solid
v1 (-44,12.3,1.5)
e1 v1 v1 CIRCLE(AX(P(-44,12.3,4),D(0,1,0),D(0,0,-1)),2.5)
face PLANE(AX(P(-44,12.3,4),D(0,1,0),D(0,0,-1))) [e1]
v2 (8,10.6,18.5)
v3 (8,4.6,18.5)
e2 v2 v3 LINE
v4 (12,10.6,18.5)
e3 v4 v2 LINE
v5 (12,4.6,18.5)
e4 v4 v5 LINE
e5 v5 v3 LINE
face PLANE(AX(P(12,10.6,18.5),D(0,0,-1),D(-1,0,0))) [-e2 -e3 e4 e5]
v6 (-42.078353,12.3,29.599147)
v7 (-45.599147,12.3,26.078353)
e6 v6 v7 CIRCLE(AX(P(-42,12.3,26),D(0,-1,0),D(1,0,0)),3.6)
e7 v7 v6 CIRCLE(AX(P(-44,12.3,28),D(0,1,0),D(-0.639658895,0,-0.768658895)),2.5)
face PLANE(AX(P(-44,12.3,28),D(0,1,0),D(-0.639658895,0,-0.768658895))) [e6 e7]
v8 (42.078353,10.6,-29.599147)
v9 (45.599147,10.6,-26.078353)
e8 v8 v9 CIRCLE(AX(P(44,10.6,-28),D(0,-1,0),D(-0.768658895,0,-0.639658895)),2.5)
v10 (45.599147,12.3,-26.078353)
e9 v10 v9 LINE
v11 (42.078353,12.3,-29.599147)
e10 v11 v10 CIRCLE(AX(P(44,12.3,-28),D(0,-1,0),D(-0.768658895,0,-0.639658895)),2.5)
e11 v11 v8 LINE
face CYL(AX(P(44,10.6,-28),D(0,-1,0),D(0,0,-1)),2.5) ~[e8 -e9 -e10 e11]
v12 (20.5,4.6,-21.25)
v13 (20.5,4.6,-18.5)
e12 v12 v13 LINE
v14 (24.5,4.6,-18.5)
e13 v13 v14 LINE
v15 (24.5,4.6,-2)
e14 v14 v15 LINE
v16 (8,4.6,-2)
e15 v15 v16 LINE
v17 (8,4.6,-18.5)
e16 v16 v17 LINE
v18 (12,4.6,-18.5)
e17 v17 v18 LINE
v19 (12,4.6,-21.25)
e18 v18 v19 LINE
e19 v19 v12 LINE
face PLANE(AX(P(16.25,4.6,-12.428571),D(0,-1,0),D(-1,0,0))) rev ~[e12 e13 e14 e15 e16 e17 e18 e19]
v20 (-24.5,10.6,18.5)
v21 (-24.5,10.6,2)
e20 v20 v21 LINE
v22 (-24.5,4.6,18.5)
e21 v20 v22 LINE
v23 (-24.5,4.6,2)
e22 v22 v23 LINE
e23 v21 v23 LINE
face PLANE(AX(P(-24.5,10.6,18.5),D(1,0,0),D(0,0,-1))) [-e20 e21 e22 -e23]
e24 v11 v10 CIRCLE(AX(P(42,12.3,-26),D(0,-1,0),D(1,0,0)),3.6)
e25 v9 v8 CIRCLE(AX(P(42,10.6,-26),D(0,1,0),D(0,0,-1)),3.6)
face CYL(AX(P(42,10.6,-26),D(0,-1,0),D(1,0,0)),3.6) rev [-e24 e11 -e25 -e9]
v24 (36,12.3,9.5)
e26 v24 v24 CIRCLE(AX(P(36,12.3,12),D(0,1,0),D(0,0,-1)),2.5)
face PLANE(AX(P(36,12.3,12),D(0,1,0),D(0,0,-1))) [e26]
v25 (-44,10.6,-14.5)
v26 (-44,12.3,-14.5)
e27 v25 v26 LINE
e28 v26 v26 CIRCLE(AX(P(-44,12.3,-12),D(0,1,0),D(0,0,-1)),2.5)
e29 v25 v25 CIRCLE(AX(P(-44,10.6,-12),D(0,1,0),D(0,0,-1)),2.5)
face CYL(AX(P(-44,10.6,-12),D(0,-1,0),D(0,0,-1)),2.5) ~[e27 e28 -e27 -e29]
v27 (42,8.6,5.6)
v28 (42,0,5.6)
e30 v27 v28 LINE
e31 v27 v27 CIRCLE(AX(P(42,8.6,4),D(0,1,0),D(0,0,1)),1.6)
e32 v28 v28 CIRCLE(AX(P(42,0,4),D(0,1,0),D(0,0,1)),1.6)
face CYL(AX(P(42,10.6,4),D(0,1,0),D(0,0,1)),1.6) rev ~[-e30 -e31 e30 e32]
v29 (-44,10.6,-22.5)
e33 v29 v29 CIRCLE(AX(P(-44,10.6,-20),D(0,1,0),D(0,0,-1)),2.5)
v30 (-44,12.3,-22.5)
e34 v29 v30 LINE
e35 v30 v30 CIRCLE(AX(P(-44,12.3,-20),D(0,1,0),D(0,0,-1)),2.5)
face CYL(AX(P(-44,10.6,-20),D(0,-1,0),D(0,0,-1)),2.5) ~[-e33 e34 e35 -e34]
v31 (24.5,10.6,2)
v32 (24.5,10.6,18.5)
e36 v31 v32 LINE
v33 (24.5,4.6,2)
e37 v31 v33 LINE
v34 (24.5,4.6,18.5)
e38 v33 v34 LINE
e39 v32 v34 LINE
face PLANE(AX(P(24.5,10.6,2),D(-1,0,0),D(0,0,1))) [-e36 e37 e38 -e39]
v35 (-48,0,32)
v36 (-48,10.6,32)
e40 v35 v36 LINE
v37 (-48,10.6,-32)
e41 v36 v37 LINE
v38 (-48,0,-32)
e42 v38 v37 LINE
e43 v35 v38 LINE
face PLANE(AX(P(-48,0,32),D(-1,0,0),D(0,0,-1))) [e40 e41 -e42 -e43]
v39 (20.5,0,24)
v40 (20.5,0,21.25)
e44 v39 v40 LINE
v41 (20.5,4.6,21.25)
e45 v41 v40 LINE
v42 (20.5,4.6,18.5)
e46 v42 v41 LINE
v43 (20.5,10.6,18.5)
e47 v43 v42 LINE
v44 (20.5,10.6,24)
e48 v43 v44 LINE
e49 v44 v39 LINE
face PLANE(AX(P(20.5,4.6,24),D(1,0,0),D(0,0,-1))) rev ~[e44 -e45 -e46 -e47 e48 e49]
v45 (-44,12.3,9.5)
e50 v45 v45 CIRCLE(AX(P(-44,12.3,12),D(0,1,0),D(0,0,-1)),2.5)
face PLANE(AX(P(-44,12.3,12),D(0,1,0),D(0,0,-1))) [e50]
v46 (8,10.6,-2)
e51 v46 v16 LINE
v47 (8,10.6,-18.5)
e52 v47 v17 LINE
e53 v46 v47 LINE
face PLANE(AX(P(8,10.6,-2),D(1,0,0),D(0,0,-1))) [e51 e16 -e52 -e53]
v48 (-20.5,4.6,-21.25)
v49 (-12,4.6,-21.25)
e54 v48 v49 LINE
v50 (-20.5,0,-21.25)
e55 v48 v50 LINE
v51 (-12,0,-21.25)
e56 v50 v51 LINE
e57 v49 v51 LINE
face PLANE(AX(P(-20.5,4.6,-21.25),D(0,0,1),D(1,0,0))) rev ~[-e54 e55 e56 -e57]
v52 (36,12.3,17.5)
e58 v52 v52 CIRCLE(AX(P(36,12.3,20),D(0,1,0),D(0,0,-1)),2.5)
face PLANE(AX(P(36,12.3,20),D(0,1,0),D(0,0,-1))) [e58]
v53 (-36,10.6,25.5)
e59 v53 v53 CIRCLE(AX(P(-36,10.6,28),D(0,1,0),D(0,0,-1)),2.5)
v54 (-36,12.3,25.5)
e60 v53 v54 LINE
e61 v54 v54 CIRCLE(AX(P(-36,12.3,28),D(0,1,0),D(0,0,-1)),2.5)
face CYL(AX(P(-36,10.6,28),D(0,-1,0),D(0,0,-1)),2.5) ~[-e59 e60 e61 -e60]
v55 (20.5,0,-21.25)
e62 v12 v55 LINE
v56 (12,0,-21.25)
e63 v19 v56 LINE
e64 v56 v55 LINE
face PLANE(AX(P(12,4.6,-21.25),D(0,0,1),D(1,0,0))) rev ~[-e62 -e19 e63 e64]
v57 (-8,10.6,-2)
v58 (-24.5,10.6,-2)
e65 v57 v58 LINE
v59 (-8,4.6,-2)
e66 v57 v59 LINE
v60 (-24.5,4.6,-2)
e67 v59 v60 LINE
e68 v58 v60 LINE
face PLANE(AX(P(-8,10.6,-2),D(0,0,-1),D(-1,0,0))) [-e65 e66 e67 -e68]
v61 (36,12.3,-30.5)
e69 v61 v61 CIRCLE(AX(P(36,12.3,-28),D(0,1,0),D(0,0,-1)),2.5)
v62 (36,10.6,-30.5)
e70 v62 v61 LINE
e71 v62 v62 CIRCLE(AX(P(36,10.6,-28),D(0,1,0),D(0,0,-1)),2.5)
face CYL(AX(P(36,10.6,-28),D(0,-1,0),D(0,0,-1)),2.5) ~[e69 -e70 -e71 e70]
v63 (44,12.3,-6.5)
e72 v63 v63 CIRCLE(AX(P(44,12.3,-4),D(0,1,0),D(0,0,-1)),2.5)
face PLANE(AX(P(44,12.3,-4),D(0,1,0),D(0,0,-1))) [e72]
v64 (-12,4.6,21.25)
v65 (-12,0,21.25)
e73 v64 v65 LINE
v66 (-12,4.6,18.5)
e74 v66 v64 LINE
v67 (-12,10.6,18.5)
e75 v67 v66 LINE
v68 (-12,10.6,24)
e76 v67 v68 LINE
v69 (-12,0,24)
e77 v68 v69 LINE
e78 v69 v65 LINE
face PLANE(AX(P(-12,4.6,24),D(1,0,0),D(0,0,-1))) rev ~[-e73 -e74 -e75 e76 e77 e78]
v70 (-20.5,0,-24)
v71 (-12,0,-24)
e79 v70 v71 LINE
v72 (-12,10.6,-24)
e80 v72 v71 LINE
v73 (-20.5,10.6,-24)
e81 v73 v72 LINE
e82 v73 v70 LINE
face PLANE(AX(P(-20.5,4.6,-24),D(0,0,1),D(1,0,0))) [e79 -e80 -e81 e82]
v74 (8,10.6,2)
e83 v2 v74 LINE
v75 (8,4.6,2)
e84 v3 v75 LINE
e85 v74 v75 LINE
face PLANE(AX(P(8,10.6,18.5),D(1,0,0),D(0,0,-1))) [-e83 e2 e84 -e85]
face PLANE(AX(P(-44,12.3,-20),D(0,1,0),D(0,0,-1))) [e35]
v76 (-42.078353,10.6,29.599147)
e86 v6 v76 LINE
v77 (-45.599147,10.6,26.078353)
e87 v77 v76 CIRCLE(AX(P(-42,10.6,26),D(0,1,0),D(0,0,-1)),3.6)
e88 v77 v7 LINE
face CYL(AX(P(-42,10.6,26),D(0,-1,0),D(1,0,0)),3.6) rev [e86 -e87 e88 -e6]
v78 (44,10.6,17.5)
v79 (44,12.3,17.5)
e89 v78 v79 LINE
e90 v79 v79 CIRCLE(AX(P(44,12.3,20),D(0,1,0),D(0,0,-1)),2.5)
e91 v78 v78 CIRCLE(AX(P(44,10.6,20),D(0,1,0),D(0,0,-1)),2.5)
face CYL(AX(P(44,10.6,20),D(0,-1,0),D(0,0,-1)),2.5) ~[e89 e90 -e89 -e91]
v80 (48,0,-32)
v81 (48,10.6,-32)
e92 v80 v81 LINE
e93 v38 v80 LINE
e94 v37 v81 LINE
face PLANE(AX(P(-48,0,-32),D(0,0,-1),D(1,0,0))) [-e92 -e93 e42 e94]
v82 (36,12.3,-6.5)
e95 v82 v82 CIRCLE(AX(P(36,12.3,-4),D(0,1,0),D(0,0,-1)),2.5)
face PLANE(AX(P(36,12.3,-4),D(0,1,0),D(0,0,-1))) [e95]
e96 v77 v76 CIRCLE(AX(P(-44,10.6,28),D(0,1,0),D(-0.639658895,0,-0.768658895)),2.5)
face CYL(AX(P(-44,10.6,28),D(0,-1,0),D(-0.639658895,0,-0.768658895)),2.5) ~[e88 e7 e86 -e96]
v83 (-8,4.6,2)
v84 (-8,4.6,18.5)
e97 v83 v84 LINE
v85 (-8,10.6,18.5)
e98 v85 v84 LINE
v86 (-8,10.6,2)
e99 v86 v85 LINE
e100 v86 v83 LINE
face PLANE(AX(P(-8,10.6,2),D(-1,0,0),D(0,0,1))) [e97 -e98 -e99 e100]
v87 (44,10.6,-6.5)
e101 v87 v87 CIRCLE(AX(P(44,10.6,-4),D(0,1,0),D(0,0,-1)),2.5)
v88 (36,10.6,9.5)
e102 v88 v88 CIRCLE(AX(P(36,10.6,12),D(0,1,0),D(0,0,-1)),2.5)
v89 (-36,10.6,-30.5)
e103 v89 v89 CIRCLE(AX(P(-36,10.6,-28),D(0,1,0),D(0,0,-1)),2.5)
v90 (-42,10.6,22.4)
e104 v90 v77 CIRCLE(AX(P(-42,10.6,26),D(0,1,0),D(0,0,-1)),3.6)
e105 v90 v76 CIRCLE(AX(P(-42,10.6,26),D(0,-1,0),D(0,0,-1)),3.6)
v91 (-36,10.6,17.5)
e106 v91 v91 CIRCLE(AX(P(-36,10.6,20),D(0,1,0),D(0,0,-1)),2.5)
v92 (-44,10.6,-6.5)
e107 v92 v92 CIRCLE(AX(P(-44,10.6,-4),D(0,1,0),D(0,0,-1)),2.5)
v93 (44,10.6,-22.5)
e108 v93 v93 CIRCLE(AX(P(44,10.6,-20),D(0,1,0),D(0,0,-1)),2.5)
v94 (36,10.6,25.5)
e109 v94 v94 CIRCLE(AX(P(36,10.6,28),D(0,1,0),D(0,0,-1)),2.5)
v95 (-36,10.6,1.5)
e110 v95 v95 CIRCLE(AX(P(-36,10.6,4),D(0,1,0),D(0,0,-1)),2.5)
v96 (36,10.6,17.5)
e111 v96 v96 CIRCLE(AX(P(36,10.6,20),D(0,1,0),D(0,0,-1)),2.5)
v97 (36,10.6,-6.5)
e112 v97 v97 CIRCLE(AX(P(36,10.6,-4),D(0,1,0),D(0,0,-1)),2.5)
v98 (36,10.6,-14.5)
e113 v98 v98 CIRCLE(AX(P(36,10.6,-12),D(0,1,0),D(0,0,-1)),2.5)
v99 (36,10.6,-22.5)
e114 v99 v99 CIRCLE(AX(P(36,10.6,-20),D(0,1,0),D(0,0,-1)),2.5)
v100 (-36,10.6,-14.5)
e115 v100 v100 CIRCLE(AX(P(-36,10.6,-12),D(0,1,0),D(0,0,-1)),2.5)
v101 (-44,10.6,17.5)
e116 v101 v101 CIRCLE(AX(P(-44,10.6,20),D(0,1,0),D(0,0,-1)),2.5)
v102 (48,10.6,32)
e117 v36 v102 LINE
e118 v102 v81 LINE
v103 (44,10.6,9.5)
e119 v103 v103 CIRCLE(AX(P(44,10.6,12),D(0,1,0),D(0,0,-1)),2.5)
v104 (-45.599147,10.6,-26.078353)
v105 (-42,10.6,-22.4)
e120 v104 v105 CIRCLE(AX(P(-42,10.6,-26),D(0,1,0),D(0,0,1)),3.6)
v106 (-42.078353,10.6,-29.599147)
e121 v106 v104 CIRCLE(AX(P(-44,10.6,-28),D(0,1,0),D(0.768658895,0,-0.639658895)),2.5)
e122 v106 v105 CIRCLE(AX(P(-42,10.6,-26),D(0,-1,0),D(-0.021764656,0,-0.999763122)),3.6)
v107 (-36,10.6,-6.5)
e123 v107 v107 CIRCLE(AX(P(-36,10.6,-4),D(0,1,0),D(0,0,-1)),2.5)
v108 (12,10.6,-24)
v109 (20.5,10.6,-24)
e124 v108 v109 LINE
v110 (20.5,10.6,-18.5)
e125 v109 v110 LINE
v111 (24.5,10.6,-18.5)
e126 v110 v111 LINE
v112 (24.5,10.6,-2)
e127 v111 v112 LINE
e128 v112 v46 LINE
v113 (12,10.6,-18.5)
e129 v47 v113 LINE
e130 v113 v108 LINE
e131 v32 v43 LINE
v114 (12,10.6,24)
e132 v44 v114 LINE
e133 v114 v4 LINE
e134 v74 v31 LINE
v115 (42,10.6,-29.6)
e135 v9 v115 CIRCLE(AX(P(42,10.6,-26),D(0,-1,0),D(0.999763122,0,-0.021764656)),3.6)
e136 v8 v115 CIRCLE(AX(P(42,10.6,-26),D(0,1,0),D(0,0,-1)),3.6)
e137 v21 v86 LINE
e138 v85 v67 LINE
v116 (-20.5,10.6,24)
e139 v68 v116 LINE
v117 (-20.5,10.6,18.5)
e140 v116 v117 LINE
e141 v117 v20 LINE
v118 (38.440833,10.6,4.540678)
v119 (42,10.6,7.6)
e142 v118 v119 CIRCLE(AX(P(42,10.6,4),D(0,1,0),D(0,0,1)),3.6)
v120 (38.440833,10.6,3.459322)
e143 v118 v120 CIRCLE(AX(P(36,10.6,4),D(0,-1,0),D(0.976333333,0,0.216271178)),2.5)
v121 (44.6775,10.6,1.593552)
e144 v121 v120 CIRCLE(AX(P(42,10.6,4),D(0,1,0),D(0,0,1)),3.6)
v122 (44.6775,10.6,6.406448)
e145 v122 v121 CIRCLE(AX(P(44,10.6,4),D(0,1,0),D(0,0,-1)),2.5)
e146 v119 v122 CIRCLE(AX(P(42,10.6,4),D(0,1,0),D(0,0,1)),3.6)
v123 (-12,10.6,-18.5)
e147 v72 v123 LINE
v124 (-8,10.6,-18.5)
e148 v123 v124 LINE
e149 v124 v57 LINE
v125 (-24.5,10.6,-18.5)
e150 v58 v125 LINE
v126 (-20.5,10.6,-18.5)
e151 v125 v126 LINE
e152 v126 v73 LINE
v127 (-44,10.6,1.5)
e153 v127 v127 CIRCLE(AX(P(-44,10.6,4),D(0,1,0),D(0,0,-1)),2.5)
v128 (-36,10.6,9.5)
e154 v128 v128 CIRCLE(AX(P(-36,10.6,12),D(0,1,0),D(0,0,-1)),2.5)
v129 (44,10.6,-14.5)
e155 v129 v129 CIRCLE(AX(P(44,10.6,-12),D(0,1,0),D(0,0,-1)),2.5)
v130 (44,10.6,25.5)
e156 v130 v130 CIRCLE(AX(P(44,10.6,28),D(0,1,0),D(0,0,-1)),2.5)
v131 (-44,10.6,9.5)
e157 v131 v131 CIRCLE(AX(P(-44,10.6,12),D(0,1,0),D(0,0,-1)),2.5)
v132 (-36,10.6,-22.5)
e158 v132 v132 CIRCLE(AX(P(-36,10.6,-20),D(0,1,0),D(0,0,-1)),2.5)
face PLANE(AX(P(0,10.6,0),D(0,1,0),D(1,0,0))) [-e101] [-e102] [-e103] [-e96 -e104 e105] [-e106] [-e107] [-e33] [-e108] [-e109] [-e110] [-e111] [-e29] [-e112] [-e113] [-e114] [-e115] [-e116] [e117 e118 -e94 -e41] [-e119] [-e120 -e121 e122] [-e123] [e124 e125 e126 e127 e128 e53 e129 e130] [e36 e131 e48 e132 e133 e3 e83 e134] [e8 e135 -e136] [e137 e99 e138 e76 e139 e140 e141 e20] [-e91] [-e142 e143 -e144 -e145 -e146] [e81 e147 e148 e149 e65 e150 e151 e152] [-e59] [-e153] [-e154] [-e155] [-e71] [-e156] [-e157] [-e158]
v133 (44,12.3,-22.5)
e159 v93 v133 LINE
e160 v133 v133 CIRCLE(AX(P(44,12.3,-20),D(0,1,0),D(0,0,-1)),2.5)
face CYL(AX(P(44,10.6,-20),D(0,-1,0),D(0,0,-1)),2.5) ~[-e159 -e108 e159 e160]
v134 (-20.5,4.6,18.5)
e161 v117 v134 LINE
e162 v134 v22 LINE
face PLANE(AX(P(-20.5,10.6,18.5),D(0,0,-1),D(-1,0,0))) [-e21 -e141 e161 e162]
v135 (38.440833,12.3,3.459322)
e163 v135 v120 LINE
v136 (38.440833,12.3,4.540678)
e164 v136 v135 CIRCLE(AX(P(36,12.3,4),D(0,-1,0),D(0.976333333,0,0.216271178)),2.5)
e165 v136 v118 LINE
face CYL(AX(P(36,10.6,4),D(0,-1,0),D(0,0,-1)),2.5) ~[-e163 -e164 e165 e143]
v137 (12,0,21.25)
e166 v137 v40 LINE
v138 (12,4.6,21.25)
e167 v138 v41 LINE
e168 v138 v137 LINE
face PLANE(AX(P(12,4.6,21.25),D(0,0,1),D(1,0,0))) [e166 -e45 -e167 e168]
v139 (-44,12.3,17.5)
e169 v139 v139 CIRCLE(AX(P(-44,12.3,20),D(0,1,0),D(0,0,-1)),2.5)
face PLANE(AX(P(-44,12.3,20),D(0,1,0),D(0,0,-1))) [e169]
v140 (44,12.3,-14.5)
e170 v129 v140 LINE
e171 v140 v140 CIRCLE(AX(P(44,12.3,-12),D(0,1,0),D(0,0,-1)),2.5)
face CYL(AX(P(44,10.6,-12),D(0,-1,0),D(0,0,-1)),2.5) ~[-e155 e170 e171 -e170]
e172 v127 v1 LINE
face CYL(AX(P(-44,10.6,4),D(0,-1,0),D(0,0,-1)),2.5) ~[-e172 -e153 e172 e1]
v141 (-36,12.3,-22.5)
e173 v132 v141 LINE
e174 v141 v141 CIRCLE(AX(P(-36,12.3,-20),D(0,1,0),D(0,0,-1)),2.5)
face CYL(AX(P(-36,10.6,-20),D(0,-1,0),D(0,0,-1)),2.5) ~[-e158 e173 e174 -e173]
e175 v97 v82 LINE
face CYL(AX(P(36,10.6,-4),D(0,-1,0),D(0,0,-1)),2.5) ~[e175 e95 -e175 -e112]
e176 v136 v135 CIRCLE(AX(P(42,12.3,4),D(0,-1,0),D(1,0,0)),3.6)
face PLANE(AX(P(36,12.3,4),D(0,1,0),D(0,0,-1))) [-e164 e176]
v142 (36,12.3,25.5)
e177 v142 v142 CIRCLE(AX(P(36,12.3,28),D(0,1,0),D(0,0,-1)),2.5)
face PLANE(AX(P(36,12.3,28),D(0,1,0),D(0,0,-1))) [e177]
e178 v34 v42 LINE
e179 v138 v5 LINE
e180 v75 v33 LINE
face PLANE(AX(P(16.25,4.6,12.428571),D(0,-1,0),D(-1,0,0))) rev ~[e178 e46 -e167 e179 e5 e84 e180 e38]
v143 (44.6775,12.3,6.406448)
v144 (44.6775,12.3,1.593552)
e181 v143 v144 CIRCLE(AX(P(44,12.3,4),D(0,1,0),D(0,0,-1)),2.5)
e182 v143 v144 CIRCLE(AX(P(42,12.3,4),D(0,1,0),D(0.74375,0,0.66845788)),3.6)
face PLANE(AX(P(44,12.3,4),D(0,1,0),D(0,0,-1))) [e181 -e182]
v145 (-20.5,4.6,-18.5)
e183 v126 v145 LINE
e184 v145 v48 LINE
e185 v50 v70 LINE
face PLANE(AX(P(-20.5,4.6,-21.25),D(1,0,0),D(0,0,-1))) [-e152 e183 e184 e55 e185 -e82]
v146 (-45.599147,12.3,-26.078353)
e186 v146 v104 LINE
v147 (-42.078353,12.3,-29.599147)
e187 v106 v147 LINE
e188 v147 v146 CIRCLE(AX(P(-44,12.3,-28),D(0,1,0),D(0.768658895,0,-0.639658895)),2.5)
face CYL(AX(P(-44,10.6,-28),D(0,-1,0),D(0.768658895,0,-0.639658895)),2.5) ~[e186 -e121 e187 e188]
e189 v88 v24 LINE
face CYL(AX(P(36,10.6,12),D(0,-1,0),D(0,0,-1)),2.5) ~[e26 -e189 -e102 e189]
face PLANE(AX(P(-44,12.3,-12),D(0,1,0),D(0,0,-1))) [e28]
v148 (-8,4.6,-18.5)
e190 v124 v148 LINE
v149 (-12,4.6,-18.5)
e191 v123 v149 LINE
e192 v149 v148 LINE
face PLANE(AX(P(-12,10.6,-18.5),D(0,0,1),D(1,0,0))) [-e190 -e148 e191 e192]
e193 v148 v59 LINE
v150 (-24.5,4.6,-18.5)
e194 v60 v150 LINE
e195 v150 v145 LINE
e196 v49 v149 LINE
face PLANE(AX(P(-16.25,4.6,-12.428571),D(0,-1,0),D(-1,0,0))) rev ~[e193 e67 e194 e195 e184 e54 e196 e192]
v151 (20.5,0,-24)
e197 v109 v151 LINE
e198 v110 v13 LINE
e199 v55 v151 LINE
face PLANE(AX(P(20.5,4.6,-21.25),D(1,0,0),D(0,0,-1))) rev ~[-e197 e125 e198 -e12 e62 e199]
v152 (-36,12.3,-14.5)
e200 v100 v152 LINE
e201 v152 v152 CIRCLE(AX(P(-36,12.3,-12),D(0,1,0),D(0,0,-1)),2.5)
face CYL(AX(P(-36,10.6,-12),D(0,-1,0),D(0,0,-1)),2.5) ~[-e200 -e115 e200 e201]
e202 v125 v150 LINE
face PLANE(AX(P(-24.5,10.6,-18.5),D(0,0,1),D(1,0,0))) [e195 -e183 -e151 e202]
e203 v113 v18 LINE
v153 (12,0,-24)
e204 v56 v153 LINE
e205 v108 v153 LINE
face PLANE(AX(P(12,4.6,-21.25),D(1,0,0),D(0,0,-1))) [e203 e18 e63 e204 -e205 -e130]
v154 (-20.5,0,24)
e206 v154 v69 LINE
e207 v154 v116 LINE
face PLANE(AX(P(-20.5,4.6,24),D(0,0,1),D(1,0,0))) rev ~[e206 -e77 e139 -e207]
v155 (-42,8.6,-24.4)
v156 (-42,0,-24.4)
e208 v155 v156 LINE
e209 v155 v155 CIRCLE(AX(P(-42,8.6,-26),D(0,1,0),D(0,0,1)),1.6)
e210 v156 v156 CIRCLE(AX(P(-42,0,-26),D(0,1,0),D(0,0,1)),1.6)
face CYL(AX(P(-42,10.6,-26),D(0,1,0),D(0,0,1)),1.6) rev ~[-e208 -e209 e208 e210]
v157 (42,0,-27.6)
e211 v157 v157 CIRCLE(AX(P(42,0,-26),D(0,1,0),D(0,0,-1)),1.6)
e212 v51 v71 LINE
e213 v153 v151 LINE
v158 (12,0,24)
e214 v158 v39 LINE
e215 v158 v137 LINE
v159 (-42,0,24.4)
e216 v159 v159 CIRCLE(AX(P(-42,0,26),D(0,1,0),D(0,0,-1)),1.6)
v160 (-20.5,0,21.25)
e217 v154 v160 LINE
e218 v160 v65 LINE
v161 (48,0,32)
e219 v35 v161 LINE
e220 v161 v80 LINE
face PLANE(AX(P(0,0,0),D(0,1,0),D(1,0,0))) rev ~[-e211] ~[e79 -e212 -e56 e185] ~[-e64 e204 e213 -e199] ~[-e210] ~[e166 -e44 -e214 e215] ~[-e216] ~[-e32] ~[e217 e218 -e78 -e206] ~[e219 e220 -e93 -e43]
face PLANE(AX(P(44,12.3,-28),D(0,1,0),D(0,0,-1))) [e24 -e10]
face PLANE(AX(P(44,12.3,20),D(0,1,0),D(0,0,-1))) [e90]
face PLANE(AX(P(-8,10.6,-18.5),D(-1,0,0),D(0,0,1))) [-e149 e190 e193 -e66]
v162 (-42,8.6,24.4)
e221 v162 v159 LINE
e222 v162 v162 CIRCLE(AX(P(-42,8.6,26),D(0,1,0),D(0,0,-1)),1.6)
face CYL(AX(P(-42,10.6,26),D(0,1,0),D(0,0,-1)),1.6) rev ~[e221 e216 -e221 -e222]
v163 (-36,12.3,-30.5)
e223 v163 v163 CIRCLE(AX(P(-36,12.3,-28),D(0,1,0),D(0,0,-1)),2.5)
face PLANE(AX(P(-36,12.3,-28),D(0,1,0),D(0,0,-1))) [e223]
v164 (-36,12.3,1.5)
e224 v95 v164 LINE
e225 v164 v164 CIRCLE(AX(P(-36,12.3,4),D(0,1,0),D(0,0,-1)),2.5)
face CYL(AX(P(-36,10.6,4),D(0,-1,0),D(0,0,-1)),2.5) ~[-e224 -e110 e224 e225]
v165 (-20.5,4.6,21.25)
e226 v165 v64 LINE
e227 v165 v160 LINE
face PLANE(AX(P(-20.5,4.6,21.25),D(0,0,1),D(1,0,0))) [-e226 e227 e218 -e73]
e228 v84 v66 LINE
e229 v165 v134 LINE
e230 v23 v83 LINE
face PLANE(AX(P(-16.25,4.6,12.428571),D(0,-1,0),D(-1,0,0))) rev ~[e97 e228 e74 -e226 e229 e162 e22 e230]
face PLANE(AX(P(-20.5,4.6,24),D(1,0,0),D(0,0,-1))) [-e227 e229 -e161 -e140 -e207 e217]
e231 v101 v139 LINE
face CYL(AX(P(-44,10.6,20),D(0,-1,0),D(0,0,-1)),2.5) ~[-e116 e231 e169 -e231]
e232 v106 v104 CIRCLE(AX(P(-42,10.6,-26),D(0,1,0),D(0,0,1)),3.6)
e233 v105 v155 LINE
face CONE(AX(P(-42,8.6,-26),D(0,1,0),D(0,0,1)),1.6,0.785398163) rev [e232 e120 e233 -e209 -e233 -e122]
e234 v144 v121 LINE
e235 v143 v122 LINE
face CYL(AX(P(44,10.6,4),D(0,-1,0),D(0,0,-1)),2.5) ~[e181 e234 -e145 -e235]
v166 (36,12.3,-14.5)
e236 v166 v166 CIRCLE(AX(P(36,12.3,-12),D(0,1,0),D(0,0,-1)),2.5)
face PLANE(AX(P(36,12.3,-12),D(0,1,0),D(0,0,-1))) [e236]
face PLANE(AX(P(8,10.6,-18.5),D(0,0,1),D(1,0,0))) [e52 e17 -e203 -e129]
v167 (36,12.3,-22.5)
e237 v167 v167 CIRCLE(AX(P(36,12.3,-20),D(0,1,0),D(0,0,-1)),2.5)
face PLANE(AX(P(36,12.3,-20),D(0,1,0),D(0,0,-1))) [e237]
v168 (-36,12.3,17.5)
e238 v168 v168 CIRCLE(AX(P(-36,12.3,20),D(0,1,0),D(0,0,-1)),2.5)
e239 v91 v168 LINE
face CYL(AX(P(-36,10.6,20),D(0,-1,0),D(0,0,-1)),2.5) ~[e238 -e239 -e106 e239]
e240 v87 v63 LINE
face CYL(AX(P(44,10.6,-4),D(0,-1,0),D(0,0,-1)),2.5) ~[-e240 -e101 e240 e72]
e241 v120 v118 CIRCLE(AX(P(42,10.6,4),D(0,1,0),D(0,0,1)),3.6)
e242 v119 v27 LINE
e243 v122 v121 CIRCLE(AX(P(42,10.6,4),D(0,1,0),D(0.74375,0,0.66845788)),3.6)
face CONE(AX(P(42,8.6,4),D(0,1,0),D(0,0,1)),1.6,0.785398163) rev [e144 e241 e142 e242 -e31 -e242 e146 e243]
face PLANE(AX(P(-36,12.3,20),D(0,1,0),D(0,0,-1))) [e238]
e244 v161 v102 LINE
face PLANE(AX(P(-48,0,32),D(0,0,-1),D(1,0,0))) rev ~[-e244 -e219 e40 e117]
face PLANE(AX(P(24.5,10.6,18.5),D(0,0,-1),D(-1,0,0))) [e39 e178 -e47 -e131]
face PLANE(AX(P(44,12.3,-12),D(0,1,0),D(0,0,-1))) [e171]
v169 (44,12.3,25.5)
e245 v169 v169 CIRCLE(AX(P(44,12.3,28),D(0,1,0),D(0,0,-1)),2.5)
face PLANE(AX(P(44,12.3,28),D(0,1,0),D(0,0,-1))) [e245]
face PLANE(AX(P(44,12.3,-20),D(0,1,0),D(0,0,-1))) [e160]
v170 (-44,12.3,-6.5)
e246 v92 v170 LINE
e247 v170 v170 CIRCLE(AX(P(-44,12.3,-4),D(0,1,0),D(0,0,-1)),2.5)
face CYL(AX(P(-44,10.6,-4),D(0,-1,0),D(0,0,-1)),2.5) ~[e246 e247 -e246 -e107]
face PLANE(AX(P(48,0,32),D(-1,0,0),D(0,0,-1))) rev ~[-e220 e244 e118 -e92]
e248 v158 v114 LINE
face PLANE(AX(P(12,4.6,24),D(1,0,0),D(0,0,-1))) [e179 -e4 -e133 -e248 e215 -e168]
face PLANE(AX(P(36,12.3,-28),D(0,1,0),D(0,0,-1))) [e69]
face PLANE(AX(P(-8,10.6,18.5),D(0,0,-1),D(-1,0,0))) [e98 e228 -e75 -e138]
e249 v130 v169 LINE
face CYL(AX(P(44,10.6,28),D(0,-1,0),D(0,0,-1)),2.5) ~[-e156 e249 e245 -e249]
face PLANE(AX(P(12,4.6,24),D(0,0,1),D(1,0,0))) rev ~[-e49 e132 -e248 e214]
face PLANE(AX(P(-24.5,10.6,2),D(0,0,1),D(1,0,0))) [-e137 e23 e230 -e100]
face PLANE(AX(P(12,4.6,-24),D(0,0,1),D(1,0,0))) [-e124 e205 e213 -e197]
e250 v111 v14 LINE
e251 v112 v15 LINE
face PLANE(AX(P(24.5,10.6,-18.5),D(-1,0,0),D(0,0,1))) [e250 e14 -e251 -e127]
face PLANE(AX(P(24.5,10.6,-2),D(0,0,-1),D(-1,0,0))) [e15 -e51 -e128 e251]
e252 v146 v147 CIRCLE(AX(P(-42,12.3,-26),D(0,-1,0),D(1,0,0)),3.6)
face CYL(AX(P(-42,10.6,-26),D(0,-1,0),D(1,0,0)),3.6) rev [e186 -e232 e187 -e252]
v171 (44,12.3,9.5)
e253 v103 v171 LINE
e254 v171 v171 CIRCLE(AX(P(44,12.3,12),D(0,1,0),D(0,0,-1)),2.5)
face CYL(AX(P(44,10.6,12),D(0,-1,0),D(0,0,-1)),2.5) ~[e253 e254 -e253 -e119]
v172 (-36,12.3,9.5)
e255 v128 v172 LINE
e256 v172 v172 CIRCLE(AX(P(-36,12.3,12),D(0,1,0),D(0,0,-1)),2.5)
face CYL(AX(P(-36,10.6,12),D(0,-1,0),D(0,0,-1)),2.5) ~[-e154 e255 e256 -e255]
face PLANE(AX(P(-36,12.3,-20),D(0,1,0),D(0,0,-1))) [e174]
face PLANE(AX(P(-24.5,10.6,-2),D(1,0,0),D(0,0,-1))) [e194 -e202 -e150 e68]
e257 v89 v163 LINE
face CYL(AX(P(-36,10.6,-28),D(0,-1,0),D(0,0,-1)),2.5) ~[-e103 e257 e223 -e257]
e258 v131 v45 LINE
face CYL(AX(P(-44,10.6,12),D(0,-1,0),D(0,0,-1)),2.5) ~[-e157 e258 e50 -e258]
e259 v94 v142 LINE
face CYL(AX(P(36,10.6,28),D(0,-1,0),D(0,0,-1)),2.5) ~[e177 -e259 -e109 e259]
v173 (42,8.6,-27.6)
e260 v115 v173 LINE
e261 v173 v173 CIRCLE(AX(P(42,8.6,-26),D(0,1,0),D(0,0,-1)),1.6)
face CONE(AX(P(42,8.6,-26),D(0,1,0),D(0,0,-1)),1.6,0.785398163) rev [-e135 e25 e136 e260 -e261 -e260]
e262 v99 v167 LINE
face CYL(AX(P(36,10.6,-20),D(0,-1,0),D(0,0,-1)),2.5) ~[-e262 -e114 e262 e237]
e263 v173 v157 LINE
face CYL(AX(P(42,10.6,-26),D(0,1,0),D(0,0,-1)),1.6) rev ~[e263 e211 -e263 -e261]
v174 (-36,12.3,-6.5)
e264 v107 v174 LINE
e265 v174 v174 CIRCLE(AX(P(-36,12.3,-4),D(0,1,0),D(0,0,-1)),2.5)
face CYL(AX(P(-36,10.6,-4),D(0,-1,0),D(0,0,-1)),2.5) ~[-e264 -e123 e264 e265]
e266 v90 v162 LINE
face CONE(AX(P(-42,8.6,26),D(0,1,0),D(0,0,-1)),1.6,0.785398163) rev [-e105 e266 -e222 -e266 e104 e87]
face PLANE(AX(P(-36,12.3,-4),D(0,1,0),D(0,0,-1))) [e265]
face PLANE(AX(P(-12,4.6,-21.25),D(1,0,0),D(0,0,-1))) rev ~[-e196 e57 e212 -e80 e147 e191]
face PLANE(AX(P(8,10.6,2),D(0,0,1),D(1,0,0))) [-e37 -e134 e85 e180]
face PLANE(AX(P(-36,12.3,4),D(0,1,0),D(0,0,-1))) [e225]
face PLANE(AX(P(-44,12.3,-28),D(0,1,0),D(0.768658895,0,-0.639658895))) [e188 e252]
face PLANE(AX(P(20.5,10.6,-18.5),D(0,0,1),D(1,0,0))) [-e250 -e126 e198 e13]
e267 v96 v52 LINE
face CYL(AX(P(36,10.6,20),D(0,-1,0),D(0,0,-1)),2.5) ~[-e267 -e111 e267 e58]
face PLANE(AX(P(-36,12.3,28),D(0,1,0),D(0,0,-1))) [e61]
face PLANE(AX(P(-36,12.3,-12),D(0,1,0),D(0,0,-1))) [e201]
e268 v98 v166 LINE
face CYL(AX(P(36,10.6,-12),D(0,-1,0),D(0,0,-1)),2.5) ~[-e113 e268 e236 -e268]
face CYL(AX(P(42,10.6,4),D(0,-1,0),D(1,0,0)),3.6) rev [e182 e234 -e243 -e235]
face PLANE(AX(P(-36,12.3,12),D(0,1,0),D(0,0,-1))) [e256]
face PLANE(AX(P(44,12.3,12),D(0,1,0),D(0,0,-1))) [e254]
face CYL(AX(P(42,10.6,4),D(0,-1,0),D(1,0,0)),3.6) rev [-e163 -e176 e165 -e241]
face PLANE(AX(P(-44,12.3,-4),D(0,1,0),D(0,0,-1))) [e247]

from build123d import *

# Parameters (mm, degrees)
SKETCH1_W           = 96
SKETCH1_H           = 64
BOSS_EXTRUDE1_DEPTH = 10.6
CUT_EXTRUDE1_DEPTH  = 6
SKETCH3_W           = 8.5
SKETCH3_H           = 2.75
CUT_EXTRUDE2_DEPTH  = 59
SKETCH4_R           = 1.6
CUT_EXTRUDE3_DEPTH  = 59.654582089
CHAMFER1_SIZE       = 2
SKETCH5_R           = 2.5
BOSS_EXTRUDE3_DEPTH = 1.7
SKETCH6_R           = 3.6
CUT_EXTRUDE5_DEPTH  = 59.654582089


with BuildPart() as part:
    # Sketch1 → Boss-Extrude1 (new body)
    with BuildSketch(Plane(origin=(0, 0, 0), x_dir=(1, 0, 0), z_dir=(0, 1, 0))):
        Rectangle(SKETCH1_W, SKETCH1_H)
    extrude(amount=BOSS_EXTRUDE1_DEPTH)

    # Sketch2 → Cut-Extrude1 (cut)
    with BuildSketch(Plane(origin=(0, 10.6, 0), x_dir=(1, 0, 0), z_dir=(0, 1, 0))):
        Polygon((-20.5, 18.5), (-20.5, 24), (-12, 24), (-12, 18.5), (-8, 18.5), (-8, 2), (-24.5, 2), (-24.5, 18.5), align=None)
        Polygon((-24.5, -2), (-8, -2), (-8, -18.5), (-12, -18.5), (-12, -24), (-20.5, -24), (-20.5, -18.5), (-24.5, -18.5), align=None)
        Polygon((24.5, -2), (24.5, -18.5), (20.5, -18.5), (20.5, -24), (12, -24), (12, -18.5), (8, -18.5), (8, -2), align=None)
        Polygon((24.5, 2), (8, 2), (8, 18.5), (12, 18.5), (12, 24), (20.5, 24), (20.5, 18.5), (24.5, 18.5), align=None)
    extrude(amount=-CUT_EXTRUDE1_DEPTH, mode=Mode.SUBTRACT)

    # Sketch3 → Cut-Extrude2 (cut, through all)
    with BuildSketch(Plane(origin=(0, 4.6, 0), x_dir=(1, 0, 0), z_dir=(0, 1, 0))):
        with Locations((-16.25, 22.625)):
            Rectangle(SKETCH3_W, SKETCH3_H)
        with Locations((16.25, 22.625)):
            Rectangle(SKETCH3_W, SKETCH3_H)
        with Locations((-16.25, -22.625)):
            Rectangle(SKETCH3_W, SKETCH3_H)
        with Locations((16.25, -22.625)):
            Rectangle(SKETCH3_W, SKETCH3_H)
    extrude(amount=-CUT_EXTRUDE2_DEPTH, mode=Mode.SUBTRACT)

    # Sketch4 → Cut-Extrude3 (cut, through all)
    with BuildSketch(Plane(origin=(0, 10.6, 0), x_dir=(1, 0, 0), z_dir=(0, 1, 0))):
        with Locations(Location((-42, 26, 0), (0, 0, 270))):
            Circle(SKETCH4_R)
        with Locations(Location((42, 26, 0), (0, 0, 90))):
            Circle(SKETCH4_R)
        with Locations(Location((-42, -26, 0), (0, 0, 90))):
            Circle(SKETCH4_R)
        with Locations(Location((42, -4, 0), (0, 0, 270))):
            Circle(SKETCH4_R)
    extrude(amount=-CUT_EXTRUDE3_DEPTH, mode=Mode.SUBTRACT)

    # Chamfer1
    chamfer1_edges = [part.edges().sort_by_distance(p)[0] for p in [
        (42, 10.6, -24.4),
        (-42, 10.6, 27.6),
        (42, 10.6, 2.4),
        (-42, 10.6, -27.6),
    ]]
    chamfer(chamfer1_edges, length=CHAMFER1_SIZE)

    # Sketch5 → Boss-Extrude3 (add)
    with BuildSketch(Plane(origin=(0, 10.6, 0), x_dir=(1, 0, 0), z_dir=(0, 1, 0))):
        with Locations(Location((-44, 28, 0), (0, 0, 39.766388891))):
            Circle(SKETCH5_R)
        with Locations(Location((-36, 28, 0), (0, 0, 90))):
            Circle(SKETCH5_R)
        with Locations(Location((-44, 20, 0), (0, 0, 90))):
            Circle(SKETCH5_R)
        with Locations(Location((-36, 20, 0), (0, 0, 90))):
            Circle(SKETCH5_R)
        with Locations(Location((-44, 12, 0), (0, 0, 90))):
            Circle(SKETCH5_R)
        with Locations(Location((-36, 12, 0), (0, 0, 90))):
            Circle(SKETCH5_R)
        with Locations(Location((-44, 4, 0), (0, 0, 90))):
            Circle(SKETCH5_R)
        with Locations(Location((-36, 4, 0), (0, 0, 90))):
            Circle(SKETCH5_R)
        with Locations(Location((-44, -4, 0), (0, 0, 90))):
            Circle(SKETCH5_R)
        with Locations(Location((-36, -4, 0), (0, 0, 90))):
            Circle(SKETCH5_R)
        with Locations(Location((36, -4, 0), (0, 0, 90))):
            Circle(SKETCH5_R)
        with Locations(Location((44, -4, 0), (0, 0, 90))):
            Circle(SKETCH5_R)
        with Locations(Location((44, 4, 0), (0, 0, 90))):
            Circle(SKETCH5_R)
        with Locations(Location((36, 4, 0), (0, 0, 90))):
            Circle(SKETCH5_R)
        with Locations(Location((36, 12, 0), (0, 0, 90))):
            Circle(SKETCH5_R)
        with Locations(Location((44, 12, 0), (0, 0, 90))):
            Circle(SKETCH5_R)
        with Locations(Location((44, 20, 0), (0, 0, 90))):
            Circle(SKETCH5_R)
        with Locations(Location((36, 20, 0), (0, 0, 90))):
            Circle(SKETCH5_R)
        with Locations(Location((36, 28, 0), (0, 0, 90))):
            Circle(SKETCH5_R)
        with Locations(Location((44, 28, 0), (0, 0, 90))):
            Circle(SKETCH5_R)
        with Locations(Location((-44, -12, 0), (0, 0, 90))):
            Circle(SKETCH5_R)
        with Locations(Location((-36, -12, 0), (0, 0, 90))):
            Circle(SKETCH5_R)
        with Locations(Location((-44, -20, 0), (0, 0, 90))):
            Circle(SKETCH5_R)
        with Locations(Location((-36, -20, 0), (0, 0, 90))):
            Circle(SKETCH5_R)
        with Locations(Location((-44, -28, 0), (0, 0, 129.766388891))):
            Circle(SKETCH5_R)
        with Locations(Location((-36, -28, 0), (0, 0, 90))):
            Circle(SKETCH5_R)
        with Locations(Location((36, -28, 0), (0, 0, 90))):
            Circle(SKETCH5_R)
        with Locations(Location((36, -20, 0), (0, 0, 90))):
            Circle(SKETCH5_R)
        with Locations(Location((36, -12, 0), (0, 0, 90))):
            Circle(SKETCH5_R)
        with Locations(Location((44, -12, 0), (0, 0, 90))):
            Circle(SKETCH5_R)
        with Locations(Location((44, -20, 0), (0, 0, 90))):
            Circle(SKETCH5_R)
        with Locations(Location((44, -28, 0), (0, 0, 90))):
            Circle(SKETCH5_R)
    extrude(amount=BOSS_EXTRUDE3_DEPTH)

    # Sketch6 → Cut-Extrude5 (cut, through all)
    with BuildSketch(Plane(origin=(0, 10.6, 0), x_dir=(1, 0, 0), z_dir=(0, 1, 0))):
        with Locations((-42, 26)):
            Circle(SKETCH6_R)
        with Locations((-42, -26)):
            Circle(SKETCH6_R)
        with Locations((42, -4)):
            Circle(SKETCH6_R)
        with Locations((42, 26)):
            Circle(SKETCH6_R)
    extrude(amount=CUT_EXTRUDE5_DEPTH, mode=Mode.SUBTRACT)


solid = part.part
